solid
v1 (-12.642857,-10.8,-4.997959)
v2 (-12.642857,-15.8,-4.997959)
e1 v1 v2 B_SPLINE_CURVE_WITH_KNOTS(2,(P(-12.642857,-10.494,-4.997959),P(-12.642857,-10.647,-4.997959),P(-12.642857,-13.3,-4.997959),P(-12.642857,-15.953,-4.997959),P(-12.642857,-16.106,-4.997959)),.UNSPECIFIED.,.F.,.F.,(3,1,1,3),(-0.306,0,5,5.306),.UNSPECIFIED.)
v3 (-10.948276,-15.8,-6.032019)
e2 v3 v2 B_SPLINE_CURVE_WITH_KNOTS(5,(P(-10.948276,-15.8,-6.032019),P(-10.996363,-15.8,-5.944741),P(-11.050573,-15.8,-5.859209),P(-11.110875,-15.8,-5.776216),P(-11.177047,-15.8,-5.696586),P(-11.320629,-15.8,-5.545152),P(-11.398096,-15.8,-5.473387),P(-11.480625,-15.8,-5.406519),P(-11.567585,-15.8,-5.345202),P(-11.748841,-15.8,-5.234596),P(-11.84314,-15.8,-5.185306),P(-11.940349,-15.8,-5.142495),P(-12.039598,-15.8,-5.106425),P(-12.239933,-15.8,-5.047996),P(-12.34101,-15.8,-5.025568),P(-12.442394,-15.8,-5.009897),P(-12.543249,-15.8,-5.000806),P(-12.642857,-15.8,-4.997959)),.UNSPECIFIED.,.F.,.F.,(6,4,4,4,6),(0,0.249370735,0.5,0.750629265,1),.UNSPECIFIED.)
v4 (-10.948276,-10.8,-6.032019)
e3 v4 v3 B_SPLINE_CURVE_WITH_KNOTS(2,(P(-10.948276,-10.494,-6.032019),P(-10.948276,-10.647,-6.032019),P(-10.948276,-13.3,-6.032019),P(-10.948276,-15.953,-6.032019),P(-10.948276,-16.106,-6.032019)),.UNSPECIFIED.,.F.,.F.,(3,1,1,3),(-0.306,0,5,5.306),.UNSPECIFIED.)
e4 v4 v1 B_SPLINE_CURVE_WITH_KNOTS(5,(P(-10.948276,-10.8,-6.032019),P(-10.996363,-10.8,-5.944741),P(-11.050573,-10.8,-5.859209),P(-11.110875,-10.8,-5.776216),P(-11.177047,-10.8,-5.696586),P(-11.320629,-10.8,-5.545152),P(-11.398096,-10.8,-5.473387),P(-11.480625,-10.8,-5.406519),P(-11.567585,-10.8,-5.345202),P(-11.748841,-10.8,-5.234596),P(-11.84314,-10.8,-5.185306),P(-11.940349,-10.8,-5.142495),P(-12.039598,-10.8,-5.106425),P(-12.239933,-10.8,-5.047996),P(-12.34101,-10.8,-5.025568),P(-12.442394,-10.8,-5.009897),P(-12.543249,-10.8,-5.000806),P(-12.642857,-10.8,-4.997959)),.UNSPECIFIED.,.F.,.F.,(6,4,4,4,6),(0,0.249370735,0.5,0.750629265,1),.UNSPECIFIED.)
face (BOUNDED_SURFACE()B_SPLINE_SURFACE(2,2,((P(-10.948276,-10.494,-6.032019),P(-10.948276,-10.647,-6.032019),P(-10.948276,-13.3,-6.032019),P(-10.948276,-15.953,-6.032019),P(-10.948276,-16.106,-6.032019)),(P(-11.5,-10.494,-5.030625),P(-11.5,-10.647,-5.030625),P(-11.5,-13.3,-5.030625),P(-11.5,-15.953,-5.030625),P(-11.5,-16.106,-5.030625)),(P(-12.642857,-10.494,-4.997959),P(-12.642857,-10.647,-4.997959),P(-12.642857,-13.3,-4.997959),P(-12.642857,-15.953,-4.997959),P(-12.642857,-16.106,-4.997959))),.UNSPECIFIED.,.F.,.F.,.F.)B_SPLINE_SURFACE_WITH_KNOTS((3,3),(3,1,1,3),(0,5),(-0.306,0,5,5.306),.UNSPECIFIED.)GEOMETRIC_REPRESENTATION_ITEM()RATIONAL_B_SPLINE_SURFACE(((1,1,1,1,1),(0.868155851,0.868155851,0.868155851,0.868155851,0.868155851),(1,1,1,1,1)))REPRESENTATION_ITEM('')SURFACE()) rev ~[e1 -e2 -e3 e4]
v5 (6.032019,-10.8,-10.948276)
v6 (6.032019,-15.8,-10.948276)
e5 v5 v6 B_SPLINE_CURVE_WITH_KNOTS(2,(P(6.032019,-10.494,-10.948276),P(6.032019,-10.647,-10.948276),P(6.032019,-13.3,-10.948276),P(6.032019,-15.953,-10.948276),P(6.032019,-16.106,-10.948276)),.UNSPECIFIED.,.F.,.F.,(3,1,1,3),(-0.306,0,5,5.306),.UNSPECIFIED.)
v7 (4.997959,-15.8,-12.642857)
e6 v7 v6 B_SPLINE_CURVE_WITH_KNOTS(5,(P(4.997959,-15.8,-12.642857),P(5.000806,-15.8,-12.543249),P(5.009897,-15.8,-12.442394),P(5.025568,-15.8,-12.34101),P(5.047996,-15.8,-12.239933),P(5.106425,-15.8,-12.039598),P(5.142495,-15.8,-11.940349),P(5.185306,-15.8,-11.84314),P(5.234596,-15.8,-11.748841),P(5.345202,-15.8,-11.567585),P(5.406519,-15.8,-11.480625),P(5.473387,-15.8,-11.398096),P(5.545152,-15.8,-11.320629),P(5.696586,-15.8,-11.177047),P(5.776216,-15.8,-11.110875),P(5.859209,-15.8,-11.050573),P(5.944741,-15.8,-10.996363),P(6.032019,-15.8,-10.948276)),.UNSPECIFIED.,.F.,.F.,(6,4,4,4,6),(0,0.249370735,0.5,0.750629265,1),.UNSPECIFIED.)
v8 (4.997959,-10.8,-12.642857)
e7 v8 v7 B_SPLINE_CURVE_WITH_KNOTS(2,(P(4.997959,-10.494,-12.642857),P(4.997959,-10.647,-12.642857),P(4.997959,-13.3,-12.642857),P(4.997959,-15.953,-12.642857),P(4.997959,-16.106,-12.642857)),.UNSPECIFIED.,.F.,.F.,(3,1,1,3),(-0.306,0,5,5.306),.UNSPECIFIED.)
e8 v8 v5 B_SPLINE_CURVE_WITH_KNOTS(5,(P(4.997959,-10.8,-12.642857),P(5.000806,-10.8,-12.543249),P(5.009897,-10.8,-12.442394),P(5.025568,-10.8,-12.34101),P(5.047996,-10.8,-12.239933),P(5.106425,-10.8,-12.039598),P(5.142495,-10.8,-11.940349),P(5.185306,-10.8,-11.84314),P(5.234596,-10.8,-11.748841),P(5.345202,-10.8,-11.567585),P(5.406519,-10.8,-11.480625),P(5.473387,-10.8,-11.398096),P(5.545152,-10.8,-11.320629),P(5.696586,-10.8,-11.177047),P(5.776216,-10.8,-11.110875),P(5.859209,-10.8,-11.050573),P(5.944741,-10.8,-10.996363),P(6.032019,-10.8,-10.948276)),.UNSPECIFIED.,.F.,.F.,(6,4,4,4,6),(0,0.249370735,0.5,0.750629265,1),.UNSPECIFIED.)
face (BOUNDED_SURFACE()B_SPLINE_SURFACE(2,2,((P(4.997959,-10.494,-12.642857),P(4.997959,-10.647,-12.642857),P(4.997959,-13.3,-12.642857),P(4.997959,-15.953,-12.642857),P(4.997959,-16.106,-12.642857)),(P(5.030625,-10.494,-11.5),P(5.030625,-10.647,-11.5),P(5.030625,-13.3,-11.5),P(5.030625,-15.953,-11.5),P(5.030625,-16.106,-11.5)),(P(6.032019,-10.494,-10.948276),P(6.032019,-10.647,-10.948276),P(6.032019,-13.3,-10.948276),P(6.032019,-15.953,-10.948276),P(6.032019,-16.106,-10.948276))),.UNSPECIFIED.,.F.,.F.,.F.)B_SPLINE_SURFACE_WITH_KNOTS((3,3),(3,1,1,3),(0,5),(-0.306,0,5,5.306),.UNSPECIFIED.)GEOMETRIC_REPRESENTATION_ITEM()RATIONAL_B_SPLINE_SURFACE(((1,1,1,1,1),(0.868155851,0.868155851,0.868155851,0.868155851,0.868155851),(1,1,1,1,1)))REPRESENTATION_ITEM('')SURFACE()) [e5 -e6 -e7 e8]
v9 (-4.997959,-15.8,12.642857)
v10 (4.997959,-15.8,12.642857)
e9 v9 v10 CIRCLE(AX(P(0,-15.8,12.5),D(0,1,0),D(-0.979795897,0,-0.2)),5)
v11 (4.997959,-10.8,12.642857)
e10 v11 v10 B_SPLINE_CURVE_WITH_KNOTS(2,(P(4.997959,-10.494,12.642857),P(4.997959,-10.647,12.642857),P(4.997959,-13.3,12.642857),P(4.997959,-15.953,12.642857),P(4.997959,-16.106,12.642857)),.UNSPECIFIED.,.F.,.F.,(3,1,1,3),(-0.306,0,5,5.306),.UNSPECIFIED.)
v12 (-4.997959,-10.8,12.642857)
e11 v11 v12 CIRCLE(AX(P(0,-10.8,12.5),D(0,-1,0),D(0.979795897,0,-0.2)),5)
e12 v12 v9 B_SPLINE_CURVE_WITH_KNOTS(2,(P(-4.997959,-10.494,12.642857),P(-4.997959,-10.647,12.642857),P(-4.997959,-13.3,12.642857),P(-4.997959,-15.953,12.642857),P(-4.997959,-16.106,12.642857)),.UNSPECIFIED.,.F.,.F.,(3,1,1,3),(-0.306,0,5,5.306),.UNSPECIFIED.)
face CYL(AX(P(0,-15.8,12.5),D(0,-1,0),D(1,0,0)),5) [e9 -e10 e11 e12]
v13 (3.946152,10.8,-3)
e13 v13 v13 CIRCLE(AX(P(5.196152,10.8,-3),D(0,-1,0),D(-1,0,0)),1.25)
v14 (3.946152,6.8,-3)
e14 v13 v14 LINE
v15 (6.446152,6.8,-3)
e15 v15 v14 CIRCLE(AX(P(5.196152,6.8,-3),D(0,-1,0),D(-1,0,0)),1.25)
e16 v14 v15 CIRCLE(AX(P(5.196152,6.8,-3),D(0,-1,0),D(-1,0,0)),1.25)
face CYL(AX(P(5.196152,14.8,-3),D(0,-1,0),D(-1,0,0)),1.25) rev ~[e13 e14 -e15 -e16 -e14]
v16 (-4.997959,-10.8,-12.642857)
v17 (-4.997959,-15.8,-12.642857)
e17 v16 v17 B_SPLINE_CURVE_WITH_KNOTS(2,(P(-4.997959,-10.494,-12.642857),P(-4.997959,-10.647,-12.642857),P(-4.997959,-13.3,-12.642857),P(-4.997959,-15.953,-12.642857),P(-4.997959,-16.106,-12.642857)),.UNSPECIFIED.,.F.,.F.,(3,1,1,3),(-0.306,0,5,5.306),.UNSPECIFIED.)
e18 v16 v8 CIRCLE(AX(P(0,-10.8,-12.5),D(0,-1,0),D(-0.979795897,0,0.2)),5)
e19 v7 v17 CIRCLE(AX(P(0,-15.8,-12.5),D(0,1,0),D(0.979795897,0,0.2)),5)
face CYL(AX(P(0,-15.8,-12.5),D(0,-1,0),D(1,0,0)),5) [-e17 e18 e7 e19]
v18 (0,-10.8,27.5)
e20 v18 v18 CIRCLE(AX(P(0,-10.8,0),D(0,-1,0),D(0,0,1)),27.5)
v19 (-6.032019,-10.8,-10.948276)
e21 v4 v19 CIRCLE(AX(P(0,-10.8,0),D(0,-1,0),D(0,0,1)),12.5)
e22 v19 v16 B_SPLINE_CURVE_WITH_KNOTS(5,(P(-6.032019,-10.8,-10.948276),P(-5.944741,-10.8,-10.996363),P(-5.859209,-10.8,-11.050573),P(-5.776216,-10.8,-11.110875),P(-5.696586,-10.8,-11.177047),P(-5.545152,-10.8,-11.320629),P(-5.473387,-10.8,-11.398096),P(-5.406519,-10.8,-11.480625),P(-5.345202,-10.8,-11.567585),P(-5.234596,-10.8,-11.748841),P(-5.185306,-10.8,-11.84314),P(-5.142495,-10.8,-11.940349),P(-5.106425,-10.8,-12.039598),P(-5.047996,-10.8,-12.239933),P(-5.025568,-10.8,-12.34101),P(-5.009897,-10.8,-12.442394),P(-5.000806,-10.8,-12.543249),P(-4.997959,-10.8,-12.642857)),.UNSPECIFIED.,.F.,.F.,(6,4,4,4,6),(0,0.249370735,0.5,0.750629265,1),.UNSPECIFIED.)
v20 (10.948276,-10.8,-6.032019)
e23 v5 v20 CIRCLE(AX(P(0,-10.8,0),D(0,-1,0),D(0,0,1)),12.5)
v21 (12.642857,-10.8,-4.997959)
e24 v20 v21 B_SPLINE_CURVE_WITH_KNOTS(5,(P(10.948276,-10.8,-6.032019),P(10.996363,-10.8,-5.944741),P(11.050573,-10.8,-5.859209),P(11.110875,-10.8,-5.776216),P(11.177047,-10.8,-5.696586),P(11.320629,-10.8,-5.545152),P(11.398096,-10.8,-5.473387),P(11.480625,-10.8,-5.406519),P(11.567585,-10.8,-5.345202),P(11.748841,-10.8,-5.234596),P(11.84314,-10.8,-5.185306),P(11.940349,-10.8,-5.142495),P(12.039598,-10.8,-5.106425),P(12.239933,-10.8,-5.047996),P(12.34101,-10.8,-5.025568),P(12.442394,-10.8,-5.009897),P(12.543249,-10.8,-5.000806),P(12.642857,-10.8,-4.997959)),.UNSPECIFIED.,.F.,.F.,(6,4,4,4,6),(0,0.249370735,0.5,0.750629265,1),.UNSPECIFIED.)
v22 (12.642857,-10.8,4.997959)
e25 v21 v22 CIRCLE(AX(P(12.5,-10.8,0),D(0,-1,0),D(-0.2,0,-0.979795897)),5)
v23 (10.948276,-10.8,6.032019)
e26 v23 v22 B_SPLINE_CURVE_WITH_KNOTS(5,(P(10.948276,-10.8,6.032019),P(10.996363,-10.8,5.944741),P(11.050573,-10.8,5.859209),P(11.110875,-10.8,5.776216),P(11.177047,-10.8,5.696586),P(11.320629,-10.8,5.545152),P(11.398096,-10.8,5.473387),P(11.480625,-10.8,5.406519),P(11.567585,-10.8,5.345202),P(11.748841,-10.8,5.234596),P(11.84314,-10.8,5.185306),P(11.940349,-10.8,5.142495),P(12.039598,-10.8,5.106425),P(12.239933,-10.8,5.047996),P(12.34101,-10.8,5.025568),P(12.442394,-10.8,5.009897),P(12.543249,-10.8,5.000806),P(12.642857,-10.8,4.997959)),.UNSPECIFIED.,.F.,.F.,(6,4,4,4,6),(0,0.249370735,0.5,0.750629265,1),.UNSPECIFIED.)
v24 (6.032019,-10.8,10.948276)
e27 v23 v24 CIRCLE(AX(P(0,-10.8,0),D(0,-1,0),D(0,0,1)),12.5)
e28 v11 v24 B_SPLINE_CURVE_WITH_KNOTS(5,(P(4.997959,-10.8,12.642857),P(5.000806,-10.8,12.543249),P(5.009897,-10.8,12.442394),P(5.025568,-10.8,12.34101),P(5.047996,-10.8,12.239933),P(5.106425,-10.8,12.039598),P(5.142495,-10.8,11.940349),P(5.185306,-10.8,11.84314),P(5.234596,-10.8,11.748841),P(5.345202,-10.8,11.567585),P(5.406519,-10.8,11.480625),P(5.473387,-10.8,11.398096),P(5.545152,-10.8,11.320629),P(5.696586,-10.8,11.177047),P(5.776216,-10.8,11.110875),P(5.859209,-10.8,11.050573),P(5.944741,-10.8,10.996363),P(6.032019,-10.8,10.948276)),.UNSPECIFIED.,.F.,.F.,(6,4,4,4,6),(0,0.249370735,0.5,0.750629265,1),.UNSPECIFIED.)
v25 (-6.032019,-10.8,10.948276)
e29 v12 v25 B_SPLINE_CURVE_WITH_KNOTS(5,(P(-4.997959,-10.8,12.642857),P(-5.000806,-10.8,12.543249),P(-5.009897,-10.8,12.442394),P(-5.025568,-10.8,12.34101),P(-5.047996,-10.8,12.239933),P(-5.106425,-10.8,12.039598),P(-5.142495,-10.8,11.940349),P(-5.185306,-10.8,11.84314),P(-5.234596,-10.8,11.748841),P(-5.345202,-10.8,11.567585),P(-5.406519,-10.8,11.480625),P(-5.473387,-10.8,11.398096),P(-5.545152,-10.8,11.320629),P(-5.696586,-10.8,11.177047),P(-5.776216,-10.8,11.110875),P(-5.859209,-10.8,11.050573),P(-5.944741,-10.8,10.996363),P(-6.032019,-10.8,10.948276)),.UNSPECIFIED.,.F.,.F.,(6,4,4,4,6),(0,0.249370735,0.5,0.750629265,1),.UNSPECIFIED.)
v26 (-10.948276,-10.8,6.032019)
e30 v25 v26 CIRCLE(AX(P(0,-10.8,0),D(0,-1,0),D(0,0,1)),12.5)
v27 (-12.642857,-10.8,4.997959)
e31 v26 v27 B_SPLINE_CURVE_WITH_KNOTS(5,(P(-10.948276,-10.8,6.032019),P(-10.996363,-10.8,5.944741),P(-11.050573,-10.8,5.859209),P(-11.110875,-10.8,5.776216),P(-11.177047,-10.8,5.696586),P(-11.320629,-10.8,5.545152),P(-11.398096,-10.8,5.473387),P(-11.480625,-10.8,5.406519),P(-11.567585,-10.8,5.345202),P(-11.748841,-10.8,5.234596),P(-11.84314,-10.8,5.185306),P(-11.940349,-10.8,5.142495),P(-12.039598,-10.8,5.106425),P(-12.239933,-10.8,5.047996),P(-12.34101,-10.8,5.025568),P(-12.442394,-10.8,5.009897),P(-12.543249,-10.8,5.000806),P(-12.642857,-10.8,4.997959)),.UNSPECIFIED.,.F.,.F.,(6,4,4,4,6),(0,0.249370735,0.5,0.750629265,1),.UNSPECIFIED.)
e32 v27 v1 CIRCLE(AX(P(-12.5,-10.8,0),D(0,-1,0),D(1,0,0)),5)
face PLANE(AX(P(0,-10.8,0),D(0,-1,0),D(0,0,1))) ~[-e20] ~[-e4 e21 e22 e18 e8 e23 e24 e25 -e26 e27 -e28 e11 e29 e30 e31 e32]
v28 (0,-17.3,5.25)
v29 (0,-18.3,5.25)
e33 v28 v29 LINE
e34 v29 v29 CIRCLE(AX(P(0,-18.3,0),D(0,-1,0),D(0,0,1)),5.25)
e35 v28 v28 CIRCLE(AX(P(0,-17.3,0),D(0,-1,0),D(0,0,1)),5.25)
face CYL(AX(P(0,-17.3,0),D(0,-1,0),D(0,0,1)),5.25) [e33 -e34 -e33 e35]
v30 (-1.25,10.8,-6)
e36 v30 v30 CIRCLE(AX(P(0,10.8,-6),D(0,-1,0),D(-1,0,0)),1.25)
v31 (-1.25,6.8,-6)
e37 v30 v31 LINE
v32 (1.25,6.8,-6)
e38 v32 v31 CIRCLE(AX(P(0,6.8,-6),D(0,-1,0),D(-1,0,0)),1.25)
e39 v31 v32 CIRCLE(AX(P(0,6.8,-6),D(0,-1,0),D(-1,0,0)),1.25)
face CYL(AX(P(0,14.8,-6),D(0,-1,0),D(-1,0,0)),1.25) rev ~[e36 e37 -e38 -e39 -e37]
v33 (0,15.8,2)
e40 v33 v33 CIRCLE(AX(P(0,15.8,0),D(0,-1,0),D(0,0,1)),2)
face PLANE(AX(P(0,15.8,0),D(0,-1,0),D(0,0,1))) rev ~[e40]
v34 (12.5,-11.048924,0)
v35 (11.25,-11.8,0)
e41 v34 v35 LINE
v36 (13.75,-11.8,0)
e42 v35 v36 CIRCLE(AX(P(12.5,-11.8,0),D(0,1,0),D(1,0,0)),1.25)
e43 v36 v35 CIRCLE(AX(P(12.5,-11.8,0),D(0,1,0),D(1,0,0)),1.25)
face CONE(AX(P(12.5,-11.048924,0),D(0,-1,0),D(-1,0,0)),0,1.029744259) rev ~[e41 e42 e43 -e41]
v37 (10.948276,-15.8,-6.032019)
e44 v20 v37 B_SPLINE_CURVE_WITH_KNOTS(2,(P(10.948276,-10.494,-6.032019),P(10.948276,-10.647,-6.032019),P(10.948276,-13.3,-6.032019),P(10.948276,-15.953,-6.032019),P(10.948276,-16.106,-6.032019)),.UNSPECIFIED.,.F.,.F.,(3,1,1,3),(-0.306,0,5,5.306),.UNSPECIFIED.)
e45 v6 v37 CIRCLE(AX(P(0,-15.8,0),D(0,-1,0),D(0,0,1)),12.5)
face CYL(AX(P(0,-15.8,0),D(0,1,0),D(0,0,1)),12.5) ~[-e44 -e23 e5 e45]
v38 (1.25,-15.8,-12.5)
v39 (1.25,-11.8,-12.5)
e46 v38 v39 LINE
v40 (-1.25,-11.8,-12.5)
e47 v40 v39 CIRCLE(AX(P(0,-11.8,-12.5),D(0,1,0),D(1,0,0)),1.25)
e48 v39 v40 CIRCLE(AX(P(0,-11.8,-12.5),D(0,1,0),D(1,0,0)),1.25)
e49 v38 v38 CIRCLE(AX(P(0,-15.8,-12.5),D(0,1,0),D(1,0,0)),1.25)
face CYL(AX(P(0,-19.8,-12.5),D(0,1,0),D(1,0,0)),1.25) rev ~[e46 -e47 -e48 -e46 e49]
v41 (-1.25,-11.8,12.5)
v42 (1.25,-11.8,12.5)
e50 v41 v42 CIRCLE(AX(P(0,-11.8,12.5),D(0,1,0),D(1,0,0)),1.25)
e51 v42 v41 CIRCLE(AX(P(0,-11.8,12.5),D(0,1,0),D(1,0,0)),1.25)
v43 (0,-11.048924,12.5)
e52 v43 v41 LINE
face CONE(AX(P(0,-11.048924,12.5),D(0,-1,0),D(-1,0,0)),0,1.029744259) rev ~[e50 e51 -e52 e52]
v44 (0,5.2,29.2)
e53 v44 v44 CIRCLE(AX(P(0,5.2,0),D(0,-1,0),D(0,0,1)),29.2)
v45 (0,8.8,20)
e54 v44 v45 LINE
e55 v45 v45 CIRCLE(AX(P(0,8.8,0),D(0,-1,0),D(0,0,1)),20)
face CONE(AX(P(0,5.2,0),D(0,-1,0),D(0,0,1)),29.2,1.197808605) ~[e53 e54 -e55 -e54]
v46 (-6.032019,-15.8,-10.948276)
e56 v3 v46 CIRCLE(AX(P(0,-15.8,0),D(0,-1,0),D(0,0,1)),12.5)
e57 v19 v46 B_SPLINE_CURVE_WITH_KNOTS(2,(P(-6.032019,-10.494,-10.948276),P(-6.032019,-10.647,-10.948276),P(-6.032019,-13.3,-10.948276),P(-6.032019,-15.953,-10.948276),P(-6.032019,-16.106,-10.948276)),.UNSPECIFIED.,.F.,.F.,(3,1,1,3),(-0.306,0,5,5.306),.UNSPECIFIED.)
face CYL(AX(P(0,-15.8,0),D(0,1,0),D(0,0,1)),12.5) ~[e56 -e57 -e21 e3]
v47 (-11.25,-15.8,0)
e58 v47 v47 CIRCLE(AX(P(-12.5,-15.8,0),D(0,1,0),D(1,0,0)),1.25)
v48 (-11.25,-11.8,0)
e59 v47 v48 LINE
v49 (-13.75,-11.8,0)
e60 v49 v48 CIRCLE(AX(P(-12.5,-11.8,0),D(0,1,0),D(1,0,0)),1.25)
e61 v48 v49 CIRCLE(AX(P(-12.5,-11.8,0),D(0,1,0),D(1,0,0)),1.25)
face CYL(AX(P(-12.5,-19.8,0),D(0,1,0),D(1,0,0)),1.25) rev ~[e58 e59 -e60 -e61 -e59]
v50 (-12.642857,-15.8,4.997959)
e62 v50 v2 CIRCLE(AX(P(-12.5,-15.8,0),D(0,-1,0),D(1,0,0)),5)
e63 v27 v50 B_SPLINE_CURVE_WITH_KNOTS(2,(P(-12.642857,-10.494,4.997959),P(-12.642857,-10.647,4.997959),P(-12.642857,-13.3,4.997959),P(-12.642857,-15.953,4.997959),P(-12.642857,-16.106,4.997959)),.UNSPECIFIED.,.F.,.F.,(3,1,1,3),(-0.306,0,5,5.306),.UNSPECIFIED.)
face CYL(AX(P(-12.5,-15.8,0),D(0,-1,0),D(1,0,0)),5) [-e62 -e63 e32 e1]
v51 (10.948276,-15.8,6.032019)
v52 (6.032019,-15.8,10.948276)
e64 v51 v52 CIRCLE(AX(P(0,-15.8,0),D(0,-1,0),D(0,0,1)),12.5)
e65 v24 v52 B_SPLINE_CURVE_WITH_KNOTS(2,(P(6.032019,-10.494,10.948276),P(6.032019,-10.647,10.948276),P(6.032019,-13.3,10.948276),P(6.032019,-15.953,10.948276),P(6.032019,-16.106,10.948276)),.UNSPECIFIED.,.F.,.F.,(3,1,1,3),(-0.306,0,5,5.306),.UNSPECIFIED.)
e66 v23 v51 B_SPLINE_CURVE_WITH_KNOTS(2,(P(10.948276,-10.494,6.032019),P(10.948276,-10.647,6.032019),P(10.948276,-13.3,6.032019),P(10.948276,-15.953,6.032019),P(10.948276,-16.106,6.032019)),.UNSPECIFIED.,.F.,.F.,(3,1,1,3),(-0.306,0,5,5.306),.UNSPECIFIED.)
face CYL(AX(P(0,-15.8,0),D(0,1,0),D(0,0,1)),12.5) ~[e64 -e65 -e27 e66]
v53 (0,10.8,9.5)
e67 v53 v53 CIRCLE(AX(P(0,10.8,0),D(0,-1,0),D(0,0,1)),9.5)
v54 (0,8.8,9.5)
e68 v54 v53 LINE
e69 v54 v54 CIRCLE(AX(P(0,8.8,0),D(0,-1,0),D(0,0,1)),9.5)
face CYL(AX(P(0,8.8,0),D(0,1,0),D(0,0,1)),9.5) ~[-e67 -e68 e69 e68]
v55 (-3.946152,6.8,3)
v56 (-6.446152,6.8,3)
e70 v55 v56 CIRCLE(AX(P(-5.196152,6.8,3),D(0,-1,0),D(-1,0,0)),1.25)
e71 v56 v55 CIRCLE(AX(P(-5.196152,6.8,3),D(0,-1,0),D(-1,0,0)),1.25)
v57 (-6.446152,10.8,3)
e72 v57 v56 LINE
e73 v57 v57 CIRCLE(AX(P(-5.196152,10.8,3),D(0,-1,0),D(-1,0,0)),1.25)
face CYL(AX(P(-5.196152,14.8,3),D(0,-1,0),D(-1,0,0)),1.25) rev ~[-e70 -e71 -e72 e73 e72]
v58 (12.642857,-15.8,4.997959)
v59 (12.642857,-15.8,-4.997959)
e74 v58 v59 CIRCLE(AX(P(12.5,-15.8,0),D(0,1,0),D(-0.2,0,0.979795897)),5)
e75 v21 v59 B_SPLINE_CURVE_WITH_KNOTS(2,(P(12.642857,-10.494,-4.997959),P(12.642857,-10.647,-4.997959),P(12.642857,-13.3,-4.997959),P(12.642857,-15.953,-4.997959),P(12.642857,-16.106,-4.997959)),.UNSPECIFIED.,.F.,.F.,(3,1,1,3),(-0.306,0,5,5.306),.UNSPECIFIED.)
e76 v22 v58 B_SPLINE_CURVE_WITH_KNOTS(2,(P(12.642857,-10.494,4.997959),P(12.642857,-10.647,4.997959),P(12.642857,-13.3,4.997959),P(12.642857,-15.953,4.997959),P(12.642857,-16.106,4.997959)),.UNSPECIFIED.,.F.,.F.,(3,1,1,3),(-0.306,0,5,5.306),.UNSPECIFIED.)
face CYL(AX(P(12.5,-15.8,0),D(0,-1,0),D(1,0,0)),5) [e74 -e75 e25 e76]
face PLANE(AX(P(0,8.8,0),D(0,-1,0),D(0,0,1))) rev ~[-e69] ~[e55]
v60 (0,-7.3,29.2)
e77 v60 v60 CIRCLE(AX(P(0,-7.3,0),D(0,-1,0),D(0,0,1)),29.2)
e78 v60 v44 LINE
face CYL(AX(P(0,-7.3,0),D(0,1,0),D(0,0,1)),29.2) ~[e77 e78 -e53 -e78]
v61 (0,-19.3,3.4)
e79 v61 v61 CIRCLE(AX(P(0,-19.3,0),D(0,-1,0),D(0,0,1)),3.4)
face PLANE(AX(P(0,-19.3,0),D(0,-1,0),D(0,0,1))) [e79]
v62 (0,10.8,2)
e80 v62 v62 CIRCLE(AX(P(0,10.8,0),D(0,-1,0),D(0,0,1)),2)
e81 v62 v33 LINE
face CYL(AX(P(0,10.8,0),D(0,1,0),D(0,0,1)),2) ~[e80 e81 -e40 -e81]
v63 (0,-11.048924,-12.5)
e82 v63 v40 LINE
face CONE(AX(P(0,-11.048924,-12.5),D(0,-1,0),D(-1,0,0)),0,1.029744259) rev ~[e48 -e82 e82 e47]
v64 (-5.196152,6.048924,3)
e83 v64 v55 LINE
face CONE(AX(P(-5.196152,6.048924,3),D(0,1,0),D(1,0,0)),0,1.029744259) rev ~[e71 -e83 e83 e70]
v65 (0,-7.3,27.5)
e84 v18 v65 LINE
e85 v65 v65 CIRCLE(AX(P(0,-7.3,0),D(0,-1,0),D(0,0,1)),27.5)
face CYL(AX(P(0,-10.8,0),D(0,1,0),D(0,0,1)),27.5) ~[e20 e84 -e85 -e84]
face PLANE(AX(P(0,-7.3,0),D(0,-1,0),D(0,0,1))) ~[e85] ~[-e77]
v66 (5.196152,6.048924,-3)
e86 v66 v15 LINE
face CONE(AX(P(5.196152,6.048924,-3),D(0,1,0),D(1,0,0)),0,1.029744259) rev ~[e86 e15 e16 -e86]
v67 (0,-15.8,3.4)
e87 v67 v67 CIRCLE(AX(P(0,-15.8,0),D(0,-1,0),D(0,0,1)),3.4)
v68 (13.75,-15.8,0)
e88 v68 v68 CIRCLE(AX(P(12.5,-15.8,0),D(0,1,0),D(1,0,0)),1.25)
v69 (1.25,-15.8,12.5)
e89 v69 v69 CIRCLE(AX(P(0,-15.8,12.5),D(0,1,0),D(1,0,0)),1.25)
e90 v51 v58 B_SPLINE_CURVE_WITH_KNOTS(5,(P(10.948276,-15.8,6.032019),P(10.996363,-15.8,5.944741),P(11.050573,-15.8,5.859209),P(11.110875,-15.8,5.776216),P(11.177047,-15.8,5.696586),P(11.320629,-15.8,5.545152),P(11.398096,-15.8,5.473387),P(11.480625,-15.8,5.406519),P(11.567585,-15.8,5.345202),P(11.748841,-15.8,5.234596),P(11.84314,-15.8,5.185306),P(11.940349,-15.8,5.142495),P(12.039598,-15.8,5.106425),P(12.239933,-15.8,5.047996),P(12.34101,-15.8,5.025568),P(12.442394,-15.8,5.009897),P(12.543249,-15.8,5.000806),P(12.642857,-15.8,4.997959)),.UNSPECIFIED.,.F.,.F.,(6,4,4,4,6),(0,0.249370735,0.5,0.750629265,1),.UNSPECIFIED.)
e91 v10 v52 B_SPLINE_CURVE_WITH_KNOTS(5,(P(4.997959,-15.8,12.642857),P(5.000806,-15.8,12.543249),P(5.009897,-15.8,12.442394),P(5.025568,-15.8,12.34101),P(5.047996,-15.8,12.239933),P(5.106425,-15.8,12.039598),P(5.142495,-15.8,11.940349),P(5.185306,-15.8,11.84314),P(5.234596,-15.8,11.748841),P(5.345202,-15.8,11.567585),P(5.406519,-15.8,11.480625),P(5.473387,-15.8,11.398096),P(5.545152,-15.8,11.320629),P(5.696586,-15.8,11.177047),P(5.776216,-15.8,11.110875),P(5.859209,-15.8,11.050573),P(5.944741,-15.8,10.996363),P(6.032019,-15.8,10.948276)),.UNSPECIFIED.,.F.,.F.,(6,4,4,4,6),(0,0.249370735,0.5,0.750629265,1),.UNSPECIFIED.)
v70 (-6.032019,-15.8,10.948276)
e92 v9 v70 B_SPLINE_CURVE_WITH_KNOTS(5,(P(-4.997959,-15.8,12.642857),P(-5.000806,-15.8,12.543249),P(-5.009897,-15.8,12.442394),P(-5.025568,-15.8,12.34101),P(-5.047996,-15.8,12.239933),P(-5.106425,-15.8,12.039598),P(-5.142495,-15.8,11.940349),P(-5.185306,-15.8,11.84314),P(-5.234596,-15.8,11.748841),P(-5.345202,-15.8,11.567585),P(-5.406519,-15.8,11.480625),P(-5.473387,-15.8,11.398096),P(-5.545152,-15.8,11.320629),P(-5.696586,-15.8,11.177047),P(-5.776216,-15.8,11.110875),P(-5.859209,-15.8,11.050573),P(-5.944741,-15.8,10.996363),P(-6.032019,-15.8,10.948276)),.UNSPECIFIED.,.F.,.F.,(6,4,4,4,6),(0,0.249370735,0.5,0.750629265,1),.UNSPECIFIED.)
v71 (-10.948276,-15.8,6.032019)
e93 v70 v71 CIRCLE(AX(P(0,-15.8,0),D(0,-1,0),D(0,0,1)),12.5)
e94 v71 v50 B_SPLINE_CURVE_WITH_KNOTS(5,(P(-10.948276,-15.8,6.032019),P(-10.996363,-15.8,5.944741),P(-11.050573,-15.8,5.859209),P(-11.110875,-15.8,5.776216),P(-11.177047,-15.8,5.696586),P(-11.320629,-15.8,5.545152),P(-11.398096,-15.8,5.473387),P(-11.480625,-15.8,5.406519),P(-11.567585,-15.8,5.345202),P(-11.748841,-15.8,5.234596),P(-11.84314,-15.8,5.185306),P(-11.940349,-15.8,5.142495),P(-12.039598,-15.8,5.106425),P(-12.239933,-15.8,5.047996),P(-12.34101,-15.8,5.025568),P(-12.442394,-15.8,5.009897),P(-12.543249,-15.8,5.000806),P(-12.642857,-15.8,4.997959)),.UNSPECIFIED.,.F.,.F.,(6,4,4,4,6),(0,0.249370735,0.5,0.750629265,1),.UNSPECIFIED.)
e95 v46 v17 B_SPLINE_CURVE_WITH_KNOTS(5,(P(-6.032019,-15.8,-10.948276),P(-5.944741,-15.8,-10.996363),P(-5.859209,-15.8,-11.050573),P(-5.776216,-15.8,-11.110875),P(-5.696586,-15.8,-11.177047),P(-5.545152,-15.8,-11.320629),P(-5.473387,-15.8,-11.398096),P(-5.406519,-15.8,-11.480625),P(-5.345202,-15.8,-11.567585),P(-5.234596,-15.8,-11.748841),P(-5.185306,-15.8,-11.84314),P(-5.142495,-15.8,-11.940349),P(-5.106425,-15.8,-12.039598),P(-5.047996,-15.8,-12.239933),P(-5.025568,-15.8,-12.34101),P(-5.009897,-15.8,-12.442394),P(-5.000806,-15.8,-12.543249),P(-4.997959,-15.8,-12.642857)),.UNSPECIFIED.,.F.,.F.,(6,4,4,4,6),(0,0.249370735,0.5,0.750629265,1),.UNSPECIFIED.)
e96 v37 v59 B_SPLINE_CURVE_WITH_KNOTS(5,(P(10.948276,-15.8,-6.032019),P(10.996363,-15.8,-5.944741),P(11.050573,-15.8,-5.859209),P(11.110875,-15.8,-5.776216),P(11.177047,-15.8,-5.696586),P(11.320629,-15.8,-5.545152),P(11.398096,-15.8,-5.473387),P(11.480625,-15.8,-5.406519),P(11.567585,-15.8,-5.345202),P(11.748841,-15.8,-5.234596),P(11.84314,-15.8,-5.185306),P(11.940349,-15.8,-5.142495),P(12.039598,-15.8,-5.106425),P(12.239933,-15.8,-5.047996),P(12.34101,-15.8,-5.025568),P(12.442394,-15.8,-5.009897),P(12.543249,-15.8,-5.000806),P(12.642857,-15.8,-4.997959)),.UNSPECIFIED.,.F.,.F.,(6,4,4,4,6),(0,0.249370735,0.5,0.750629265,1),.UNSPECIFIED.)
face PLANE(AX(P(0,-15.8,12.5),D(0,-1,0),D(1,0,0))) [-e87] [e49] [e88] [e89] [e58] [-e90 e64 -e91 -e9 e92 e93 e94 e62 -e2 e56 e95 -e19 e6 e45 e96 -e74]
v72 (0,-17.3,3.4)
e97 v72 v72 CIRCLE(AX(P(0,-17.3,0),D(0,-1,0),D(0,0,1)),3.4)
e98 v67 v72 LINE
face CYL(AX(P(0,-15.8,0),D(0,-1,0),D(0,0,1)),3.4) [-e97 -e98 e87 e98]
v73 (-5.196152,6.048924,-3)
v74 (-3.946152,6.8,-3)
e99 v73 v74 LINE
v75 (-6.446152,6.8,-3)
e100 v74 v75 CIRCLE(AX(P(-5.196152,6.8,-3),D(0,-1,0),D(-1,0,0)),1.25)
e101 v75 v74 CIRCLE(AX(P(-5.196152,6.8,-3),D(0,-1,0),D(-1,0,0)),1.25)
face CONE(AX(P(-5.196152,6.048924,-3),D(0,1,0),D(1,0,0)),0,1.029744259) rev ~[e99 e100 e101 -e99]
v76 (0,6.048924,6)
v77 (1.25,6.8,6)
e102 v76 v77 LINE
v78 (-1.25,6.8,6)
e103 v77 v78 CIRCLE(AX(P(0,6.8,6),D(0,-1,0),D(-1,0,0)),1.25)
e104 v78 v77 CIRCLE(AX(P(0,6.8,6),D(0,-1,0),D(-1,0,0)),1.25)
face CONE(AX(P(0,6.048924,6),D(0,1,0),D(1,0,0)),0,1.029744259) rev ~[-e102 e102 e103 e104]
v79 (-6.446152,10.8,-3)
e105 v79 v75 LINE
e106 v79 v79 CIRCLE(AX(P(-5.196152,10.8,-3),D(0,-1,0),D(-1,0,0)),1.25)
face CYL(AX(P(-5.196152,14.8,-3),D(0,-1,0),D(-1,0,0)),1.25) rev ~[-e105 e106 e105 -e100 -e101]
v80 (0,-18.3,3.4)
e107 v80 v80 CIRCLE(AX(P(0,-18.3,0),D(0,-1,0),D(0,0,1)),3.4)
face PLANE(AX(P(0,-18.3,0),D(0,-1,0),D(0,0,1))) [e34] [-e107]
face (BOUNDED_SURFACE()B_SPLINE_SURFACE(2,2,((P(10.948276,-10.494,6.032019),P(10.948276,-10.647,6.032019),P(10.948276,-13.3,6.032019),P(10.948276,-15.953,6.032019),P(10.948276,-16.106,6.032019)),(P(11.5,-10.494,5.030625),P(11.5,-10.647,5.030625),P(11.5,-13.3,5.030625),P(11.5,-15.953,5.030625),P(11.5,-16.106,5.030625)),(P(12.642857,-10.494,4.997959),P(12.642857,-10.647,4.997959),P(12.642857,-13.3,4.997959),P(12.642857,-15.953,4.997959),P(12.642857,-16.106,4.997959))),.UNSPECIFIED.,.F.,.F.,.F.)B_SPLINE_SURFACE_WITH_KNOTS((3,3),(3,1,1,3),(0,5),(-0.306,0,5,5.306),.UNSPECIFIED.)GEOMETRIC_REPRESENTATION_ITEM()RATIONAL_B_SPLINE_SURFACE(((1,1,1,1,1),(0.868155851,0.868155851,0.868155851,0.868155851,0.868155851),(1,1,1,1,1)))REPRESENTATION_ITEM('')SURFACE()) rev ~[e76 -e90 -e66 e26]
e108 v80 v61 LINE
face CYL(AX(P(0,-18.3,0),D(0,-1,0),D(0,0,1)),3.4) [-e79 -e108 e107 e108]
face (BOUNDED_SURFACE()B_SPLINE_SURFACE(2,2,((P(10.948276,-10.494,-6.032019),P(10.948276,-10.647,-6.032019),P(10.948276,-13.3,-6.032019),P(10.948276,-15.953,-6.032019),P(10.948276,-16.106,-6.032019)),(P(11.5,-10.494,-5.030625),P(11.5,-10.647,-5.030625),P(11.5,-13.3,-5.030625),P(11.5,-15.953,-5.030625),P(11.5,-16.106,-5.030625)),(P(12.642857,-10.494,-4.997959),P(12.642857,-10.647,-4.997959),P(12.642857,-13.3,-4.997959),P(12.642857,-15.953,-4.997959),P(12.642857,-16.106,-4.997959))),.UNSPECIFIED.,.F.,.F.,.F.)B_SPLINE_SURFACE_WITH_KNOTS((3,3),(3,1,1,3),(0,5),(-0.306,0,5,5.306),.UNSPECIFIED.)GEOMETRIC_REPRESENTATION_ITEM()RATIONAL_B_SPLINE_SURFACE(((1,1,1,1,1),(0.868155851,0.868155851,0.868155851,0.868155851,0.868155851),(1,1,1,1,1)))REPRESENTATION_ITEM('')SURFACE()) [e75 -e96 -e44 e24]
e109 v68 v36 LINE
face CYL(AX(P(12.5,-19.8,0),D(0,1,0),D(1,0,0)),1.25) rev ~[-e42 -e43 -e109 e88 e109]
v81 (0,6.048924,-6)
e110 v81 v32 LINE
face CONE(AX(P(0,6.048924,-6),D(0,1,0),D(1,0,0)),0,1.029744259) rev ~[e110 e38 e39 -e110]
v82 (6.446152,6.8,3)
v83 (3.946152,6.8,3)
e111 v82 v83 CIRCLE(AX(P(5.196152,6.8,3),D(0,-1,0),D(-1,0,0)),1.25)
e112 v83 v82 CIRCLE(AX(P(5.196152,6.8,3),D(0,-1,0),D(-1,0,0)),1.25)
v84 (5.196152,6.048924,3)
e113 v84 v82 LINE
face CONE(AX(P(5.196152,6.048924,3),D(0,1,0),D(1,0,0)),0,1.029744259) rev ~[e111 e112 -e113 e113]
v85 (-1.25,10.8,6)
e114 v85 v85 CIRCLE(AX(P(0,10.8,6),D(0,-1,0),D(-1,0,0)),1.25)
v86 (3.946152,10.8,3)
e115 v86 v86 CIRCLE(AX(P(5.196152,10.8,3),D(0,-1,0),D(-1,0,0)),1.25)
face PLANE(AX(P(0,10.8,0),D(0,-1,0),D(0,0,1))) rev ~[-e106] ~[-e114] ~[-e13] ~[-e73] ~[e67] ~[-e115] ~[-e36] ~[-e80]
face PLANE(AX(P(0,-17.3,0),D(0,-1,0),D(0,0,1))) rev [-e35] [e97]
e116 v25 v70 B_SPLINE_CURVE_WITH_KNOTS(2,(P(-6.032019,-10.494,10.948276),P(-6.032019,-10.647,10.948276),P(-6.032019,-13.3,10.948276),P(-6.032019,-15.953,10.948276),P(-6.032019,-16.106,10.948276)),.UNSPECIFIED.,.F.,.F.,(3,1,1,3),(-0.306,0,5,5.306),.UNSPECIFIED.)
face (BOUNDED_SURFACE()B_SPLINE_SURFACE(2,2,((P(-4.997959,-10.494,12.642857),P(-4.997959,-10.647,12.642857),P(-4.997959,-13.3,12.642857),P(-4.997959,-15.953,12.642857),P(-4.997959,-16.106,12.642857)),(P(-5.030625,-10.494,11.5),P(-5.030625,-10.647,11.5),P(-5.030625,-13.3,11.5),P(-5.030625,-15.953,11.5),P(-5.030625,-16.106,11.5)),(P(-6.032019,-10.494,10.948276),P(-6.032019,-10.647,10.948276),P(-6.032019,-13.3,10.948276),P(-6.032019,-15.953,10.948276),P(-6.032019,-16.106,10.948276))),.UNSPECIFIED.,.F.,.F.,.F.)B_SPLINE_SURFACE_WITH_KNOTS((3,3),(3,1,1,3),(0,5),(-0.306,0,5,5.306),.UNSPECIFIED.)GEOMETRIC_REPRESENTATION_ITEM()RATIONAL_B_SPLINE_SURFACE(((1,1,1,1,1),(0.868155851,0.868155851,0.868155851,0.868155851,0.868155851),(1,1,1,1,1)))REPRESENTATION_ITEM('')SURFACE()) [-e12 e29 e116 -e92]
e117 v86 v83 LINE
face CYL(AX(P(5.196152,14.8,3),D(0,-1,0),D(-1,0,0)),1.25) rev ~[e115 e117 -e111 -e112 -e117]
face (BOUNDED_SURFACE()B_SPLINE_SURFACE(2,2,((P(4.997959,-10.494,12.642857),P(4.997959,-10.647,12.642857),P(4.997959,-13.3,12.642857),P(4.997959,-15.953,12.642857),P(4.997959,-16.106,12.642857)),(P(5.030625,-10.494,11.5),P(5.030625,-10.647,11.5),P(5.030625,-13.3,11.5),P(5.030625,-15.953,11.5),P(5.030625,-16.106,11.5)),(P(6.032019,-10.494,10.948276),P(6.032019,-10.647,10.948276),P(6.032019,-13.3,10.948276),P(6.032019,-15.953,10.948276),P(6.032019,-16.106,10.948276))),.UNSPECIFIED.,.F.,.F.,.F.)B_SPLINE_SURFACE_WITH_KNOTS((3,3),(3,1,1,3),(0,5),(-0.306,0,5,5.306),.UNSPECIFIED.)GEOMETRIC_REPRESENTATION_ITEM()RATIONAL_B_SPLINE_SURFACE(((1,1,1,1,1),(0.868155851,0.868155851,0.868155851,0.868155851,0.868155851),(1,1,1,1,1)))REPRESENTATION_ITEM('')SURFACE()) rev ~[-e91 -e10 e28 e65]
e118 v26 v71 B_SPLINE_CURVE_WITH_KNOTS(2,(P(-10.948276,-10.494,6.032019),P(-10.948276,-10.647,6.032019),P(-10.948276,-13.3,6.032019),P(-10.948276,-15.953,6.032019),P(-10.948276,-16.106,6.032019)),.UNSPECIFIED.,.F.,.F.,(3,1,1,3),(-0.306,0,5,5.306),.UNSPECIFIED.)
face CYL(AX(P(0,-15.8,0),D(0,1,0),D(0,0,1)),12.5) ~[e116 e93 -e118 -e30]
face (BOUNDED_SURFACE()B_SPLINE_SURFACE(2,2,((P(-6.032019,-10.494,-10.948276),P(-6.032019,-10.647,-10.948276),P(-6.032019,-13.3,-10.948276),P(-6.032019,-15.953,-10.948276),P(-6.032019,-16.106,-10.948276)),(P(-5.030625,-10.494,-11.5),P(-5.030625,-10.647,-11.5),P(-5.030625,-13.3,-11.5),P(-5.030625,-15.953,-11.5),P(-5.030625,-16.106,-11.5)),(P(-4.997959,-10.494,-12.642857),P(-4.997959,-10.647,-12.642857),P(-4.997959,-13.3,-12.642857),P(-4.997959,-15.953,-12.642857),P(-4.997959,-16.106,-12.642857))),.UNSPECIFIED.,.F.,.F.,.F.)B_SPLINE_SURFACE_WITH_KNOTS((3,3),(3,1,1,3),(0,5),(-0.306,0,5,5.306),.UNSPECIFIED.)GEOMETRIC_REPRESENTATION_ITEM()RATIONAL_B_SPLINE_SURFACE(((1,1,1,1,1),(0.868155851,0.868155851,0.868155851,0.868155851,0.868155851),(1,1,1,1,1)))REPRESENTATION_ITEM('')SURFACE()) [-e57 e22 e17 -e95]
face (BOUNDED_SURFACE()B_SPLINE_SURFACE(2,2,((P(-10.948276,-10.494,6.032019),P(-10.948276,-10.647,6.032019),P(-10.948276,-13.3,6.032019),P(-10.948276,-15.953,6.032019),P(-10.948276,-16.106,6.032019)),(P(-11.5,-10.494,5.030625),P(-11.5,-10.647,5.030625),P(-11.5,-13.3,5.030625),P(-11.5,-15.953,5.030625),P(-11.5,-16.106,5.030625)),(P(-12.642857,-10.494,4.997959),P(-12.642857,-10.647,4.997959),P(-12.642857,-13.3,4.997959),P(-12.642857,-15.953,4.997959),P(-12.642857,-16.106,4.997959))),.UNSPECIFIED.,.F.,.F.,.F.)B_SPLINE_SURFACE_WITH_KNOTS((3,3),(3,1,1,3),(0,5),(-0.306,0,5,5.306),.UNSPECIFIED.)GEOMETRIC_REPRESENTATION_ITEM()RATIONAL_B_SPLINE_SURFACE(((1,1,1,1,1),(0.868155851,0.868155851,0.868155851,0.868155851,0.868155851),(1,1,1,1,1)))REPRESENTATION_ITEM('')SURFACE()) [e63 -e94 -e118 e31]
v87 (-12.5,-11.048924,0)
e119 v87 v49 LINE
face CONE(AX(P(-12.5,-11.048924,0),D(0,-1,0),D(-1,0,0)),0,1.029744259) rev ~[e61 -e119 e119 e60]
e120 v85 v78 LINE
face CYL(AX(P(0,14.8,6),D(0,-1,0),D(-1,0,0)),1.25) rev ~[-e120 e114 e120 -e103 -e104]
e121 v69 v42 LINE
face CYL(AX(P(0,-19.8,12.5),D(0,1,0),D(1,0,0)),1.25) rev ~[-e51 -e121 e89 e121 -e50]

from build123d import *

# Parameters (mm, degrees)
BOSS_EXTRUDE1_REACH       = 53.998
SKETCH2_R                 = 5
FILLET1_R                 = 2
M3X0_5_TAPPED_HOLE1_D     = 2.5
M3X0_5_TAPPED_HOLE1_DEPTH = 4
M3X0_5_TAPPED_HOLE1_TIP   = 0.751075774
M3X0_5_TAPPED_HOLE2_D     = 2.5
M3X0_5_TAPPED_HOLE2_DEPTH = 4
M3X0_5_TAPPED_HOLE2_TIP   = 0.751075774


with BuildPart() as part:
    # Sketch1 → Revolve1 (revolve)
    with BuildSketch(Plane.XY, mode=Mode.PRIVATE) as revolve1_sk:
        Polygon((0, 15.8), (0, -15.8), (-12.5, -15.8), (-12.5, -10.8), (-27.5, -10.8), (-27.5, -7.3), (-29.2, -7.3), (-29.2, 5.2), (-20, 8.8), (-9.5, 8.8), (-9.5, 10.8), (-2, 10.8), (-2, 15.8), align=None)
    revolve(revolve1_sk.sketch.rotate(Axis((0, 0, 0), (0, -1, 0)), 270), axis=Axis((0, 0, 0), (0, -1, 0)))

    # Sketch2 → Boss-Extrude1 (add, up to next)
    with BuildSketch(Plane.XZ.offset(15.8), mode=Mode.PRIVATE) as boss_extrude1_sk1:
        with Locations((0, 12.5)):
            Circle(SKETCH2_R)
    boss_extrude1_tool1 = extrude(boss_extrude1_sk1.sketch, amount=-BOSS_EXTRUDE1_REACH, mode=Mode.PRIVATE) - part.part
    # Sketch2 → Boss-Extrude1 (add, up to next)
    with BuildSketch(Plane.XZ.offset(15.8), mode=Mode.PRIVATE) as boss_extrude1_sk2:
        with Locations((12.5, 0)):
            Circle(SKETCH2_R)
    boss_extrude1_tool2 = extrude(boss_extrude1_sk2.sketch, amount=-BOSS_EXTRUDE1_REACH, mode=Mode.PRIVATE) - part.part
    # Sketch2 → Boss-Extrude1 (add, up to next)
    with BuildSketch(Plane.XZ.offset(15.8), mode=Mode.PRIVATE) as boss_extrude1_sk3:
        with Locations((0, -12.5)):
            Circle(SKETCH2_R)
    boss_extrude1_tool3 = extrude(boss_extrude1_sk3.sketch, amount=-BOSS_EXTRUDE1_REACH, mode=Mode.PRIVATE) - part.part
    # Sketch2 → Boss-Extrude1 (add, up to next)
    with BuildSketch(Plane.XZ.offset(15.8), mode=Mode.PRIVATE) as boss_extrude1_sk4:
        with Locations((-12.5, 0)):
            Circle(SKETCH2_R)
    boss_extrude1_tool4 = extrude(boss_extrude1_sk4.sketch, amount=-BOSS_EXTRUDE1_REACH, mode=Mode.PRIVATE) - part.part
    add(boss_extrude1_tool1.solids().sort_by_distance((0, -15.8, 12.5))[0])
    add(boss_extrude1_tool2.solids().sort_by_distance((12.5, -15.8, 0))[0])
    add(boss_extrude1_tool3.solids().sort_by_distance((0, -15.8, -12.5))[0])
    add(boss_extrude1_tool4.solids().sort_by_distance((-12.5, -15.8, 0))[0])

    # Fillet1
    fillet1_edges = [part.edges().sort_by_distance(p)[0] for p in [
        (4.898979486, -13.3, 11.5),
        (-4.898979486, -13.3, 11.5),
        (11.5, -13.3, -4.898979486),
        (11.5, -13.3, 4.898979486),
        (-4.898979486, -13.3, -11.5),
        (4.898979486, -13.3, -11.5),
        (-11.5, -13.3, 4.898979486),
        (-11.5, -13.3, -4.898979486),
    ]]
    fillet(fillet1_edges, radius=FILLET1_R)

    # M3x0.5 Tapped Hole1
    with Locations(Plane(origin=(0, -15.8, 0), x_dir=(-1, 0, 0), z_dir=(0, -1, 0))):
        with Locations((0, -12.5), (-12.5, 0), (0, 12.5), (12.5, 0)):
            Hole(M3X0_5_TAPPED_HOLE1_D / 2, depth=M3X0_5_TAPPED_HOLE1_DEPTH)
            with Locations((0, 0, -(M3X0_5_TAPPED_HOLE1_DEPTH + M3X0_5_TAPPED_HOLE1_TIP / 2))):  # 118° drill point
                Cone(0, M3X0_5_TAPPED_HOLE1_D / 2, M3X0_5_TAPPED_HOLE1_TIP, mode=Mode.SUBTRACT)

    # Sketch5 → Revolve2 (revolve)
    with BuildSketch(Plane.XY, mode=Mode.PRIVATE) as revolve2_sk:
        Polygon((0, -15.8), (-3.4, -15.8), (-3.4, -17.3), (-5.25, -17.3), (-5.25, -18.3), (-3.4, -18.3), (-3.4, -19.3), (0, -19.3), align=None)
    revolve(revolve2_sk.sketch.rotate(Axis((0, 0, 0), (0, -1, 0)), 270), axis=Axis((0, 0, 0), (0, -1, 0)))

    # M3x0.5 Tapped Hole2
    with Locations(Plane(origin=(0, 10.8, 0), x_dir=(1, 0, 0), z_dir=(0, 1, 0))):
        with Locations((0, 6), (5.196152423, 3), (5.196152423, -3), (0, -6), (-5.196152423, -3), (-5.196152423, 3)):
            Hole(M3X0_5_TAPPED_HOLE2_D / 2, depth=M3X0_5_TAPPED_HOLE2_DEPTH)
            with Locations((0, 0, -(M3X0_5_TAPPED_HOLE2_DEPTH + M3X0_5_TAPPED_HOLE2_TIP / 2))):  # 118° drill point
                Cone(0, M3X0_5_TAPPED_HOLE2_D / 2, M3X0_5_TAPPED_HOLE2_TIP, mode=Mode.SUBTRACT)


solid = part.part
